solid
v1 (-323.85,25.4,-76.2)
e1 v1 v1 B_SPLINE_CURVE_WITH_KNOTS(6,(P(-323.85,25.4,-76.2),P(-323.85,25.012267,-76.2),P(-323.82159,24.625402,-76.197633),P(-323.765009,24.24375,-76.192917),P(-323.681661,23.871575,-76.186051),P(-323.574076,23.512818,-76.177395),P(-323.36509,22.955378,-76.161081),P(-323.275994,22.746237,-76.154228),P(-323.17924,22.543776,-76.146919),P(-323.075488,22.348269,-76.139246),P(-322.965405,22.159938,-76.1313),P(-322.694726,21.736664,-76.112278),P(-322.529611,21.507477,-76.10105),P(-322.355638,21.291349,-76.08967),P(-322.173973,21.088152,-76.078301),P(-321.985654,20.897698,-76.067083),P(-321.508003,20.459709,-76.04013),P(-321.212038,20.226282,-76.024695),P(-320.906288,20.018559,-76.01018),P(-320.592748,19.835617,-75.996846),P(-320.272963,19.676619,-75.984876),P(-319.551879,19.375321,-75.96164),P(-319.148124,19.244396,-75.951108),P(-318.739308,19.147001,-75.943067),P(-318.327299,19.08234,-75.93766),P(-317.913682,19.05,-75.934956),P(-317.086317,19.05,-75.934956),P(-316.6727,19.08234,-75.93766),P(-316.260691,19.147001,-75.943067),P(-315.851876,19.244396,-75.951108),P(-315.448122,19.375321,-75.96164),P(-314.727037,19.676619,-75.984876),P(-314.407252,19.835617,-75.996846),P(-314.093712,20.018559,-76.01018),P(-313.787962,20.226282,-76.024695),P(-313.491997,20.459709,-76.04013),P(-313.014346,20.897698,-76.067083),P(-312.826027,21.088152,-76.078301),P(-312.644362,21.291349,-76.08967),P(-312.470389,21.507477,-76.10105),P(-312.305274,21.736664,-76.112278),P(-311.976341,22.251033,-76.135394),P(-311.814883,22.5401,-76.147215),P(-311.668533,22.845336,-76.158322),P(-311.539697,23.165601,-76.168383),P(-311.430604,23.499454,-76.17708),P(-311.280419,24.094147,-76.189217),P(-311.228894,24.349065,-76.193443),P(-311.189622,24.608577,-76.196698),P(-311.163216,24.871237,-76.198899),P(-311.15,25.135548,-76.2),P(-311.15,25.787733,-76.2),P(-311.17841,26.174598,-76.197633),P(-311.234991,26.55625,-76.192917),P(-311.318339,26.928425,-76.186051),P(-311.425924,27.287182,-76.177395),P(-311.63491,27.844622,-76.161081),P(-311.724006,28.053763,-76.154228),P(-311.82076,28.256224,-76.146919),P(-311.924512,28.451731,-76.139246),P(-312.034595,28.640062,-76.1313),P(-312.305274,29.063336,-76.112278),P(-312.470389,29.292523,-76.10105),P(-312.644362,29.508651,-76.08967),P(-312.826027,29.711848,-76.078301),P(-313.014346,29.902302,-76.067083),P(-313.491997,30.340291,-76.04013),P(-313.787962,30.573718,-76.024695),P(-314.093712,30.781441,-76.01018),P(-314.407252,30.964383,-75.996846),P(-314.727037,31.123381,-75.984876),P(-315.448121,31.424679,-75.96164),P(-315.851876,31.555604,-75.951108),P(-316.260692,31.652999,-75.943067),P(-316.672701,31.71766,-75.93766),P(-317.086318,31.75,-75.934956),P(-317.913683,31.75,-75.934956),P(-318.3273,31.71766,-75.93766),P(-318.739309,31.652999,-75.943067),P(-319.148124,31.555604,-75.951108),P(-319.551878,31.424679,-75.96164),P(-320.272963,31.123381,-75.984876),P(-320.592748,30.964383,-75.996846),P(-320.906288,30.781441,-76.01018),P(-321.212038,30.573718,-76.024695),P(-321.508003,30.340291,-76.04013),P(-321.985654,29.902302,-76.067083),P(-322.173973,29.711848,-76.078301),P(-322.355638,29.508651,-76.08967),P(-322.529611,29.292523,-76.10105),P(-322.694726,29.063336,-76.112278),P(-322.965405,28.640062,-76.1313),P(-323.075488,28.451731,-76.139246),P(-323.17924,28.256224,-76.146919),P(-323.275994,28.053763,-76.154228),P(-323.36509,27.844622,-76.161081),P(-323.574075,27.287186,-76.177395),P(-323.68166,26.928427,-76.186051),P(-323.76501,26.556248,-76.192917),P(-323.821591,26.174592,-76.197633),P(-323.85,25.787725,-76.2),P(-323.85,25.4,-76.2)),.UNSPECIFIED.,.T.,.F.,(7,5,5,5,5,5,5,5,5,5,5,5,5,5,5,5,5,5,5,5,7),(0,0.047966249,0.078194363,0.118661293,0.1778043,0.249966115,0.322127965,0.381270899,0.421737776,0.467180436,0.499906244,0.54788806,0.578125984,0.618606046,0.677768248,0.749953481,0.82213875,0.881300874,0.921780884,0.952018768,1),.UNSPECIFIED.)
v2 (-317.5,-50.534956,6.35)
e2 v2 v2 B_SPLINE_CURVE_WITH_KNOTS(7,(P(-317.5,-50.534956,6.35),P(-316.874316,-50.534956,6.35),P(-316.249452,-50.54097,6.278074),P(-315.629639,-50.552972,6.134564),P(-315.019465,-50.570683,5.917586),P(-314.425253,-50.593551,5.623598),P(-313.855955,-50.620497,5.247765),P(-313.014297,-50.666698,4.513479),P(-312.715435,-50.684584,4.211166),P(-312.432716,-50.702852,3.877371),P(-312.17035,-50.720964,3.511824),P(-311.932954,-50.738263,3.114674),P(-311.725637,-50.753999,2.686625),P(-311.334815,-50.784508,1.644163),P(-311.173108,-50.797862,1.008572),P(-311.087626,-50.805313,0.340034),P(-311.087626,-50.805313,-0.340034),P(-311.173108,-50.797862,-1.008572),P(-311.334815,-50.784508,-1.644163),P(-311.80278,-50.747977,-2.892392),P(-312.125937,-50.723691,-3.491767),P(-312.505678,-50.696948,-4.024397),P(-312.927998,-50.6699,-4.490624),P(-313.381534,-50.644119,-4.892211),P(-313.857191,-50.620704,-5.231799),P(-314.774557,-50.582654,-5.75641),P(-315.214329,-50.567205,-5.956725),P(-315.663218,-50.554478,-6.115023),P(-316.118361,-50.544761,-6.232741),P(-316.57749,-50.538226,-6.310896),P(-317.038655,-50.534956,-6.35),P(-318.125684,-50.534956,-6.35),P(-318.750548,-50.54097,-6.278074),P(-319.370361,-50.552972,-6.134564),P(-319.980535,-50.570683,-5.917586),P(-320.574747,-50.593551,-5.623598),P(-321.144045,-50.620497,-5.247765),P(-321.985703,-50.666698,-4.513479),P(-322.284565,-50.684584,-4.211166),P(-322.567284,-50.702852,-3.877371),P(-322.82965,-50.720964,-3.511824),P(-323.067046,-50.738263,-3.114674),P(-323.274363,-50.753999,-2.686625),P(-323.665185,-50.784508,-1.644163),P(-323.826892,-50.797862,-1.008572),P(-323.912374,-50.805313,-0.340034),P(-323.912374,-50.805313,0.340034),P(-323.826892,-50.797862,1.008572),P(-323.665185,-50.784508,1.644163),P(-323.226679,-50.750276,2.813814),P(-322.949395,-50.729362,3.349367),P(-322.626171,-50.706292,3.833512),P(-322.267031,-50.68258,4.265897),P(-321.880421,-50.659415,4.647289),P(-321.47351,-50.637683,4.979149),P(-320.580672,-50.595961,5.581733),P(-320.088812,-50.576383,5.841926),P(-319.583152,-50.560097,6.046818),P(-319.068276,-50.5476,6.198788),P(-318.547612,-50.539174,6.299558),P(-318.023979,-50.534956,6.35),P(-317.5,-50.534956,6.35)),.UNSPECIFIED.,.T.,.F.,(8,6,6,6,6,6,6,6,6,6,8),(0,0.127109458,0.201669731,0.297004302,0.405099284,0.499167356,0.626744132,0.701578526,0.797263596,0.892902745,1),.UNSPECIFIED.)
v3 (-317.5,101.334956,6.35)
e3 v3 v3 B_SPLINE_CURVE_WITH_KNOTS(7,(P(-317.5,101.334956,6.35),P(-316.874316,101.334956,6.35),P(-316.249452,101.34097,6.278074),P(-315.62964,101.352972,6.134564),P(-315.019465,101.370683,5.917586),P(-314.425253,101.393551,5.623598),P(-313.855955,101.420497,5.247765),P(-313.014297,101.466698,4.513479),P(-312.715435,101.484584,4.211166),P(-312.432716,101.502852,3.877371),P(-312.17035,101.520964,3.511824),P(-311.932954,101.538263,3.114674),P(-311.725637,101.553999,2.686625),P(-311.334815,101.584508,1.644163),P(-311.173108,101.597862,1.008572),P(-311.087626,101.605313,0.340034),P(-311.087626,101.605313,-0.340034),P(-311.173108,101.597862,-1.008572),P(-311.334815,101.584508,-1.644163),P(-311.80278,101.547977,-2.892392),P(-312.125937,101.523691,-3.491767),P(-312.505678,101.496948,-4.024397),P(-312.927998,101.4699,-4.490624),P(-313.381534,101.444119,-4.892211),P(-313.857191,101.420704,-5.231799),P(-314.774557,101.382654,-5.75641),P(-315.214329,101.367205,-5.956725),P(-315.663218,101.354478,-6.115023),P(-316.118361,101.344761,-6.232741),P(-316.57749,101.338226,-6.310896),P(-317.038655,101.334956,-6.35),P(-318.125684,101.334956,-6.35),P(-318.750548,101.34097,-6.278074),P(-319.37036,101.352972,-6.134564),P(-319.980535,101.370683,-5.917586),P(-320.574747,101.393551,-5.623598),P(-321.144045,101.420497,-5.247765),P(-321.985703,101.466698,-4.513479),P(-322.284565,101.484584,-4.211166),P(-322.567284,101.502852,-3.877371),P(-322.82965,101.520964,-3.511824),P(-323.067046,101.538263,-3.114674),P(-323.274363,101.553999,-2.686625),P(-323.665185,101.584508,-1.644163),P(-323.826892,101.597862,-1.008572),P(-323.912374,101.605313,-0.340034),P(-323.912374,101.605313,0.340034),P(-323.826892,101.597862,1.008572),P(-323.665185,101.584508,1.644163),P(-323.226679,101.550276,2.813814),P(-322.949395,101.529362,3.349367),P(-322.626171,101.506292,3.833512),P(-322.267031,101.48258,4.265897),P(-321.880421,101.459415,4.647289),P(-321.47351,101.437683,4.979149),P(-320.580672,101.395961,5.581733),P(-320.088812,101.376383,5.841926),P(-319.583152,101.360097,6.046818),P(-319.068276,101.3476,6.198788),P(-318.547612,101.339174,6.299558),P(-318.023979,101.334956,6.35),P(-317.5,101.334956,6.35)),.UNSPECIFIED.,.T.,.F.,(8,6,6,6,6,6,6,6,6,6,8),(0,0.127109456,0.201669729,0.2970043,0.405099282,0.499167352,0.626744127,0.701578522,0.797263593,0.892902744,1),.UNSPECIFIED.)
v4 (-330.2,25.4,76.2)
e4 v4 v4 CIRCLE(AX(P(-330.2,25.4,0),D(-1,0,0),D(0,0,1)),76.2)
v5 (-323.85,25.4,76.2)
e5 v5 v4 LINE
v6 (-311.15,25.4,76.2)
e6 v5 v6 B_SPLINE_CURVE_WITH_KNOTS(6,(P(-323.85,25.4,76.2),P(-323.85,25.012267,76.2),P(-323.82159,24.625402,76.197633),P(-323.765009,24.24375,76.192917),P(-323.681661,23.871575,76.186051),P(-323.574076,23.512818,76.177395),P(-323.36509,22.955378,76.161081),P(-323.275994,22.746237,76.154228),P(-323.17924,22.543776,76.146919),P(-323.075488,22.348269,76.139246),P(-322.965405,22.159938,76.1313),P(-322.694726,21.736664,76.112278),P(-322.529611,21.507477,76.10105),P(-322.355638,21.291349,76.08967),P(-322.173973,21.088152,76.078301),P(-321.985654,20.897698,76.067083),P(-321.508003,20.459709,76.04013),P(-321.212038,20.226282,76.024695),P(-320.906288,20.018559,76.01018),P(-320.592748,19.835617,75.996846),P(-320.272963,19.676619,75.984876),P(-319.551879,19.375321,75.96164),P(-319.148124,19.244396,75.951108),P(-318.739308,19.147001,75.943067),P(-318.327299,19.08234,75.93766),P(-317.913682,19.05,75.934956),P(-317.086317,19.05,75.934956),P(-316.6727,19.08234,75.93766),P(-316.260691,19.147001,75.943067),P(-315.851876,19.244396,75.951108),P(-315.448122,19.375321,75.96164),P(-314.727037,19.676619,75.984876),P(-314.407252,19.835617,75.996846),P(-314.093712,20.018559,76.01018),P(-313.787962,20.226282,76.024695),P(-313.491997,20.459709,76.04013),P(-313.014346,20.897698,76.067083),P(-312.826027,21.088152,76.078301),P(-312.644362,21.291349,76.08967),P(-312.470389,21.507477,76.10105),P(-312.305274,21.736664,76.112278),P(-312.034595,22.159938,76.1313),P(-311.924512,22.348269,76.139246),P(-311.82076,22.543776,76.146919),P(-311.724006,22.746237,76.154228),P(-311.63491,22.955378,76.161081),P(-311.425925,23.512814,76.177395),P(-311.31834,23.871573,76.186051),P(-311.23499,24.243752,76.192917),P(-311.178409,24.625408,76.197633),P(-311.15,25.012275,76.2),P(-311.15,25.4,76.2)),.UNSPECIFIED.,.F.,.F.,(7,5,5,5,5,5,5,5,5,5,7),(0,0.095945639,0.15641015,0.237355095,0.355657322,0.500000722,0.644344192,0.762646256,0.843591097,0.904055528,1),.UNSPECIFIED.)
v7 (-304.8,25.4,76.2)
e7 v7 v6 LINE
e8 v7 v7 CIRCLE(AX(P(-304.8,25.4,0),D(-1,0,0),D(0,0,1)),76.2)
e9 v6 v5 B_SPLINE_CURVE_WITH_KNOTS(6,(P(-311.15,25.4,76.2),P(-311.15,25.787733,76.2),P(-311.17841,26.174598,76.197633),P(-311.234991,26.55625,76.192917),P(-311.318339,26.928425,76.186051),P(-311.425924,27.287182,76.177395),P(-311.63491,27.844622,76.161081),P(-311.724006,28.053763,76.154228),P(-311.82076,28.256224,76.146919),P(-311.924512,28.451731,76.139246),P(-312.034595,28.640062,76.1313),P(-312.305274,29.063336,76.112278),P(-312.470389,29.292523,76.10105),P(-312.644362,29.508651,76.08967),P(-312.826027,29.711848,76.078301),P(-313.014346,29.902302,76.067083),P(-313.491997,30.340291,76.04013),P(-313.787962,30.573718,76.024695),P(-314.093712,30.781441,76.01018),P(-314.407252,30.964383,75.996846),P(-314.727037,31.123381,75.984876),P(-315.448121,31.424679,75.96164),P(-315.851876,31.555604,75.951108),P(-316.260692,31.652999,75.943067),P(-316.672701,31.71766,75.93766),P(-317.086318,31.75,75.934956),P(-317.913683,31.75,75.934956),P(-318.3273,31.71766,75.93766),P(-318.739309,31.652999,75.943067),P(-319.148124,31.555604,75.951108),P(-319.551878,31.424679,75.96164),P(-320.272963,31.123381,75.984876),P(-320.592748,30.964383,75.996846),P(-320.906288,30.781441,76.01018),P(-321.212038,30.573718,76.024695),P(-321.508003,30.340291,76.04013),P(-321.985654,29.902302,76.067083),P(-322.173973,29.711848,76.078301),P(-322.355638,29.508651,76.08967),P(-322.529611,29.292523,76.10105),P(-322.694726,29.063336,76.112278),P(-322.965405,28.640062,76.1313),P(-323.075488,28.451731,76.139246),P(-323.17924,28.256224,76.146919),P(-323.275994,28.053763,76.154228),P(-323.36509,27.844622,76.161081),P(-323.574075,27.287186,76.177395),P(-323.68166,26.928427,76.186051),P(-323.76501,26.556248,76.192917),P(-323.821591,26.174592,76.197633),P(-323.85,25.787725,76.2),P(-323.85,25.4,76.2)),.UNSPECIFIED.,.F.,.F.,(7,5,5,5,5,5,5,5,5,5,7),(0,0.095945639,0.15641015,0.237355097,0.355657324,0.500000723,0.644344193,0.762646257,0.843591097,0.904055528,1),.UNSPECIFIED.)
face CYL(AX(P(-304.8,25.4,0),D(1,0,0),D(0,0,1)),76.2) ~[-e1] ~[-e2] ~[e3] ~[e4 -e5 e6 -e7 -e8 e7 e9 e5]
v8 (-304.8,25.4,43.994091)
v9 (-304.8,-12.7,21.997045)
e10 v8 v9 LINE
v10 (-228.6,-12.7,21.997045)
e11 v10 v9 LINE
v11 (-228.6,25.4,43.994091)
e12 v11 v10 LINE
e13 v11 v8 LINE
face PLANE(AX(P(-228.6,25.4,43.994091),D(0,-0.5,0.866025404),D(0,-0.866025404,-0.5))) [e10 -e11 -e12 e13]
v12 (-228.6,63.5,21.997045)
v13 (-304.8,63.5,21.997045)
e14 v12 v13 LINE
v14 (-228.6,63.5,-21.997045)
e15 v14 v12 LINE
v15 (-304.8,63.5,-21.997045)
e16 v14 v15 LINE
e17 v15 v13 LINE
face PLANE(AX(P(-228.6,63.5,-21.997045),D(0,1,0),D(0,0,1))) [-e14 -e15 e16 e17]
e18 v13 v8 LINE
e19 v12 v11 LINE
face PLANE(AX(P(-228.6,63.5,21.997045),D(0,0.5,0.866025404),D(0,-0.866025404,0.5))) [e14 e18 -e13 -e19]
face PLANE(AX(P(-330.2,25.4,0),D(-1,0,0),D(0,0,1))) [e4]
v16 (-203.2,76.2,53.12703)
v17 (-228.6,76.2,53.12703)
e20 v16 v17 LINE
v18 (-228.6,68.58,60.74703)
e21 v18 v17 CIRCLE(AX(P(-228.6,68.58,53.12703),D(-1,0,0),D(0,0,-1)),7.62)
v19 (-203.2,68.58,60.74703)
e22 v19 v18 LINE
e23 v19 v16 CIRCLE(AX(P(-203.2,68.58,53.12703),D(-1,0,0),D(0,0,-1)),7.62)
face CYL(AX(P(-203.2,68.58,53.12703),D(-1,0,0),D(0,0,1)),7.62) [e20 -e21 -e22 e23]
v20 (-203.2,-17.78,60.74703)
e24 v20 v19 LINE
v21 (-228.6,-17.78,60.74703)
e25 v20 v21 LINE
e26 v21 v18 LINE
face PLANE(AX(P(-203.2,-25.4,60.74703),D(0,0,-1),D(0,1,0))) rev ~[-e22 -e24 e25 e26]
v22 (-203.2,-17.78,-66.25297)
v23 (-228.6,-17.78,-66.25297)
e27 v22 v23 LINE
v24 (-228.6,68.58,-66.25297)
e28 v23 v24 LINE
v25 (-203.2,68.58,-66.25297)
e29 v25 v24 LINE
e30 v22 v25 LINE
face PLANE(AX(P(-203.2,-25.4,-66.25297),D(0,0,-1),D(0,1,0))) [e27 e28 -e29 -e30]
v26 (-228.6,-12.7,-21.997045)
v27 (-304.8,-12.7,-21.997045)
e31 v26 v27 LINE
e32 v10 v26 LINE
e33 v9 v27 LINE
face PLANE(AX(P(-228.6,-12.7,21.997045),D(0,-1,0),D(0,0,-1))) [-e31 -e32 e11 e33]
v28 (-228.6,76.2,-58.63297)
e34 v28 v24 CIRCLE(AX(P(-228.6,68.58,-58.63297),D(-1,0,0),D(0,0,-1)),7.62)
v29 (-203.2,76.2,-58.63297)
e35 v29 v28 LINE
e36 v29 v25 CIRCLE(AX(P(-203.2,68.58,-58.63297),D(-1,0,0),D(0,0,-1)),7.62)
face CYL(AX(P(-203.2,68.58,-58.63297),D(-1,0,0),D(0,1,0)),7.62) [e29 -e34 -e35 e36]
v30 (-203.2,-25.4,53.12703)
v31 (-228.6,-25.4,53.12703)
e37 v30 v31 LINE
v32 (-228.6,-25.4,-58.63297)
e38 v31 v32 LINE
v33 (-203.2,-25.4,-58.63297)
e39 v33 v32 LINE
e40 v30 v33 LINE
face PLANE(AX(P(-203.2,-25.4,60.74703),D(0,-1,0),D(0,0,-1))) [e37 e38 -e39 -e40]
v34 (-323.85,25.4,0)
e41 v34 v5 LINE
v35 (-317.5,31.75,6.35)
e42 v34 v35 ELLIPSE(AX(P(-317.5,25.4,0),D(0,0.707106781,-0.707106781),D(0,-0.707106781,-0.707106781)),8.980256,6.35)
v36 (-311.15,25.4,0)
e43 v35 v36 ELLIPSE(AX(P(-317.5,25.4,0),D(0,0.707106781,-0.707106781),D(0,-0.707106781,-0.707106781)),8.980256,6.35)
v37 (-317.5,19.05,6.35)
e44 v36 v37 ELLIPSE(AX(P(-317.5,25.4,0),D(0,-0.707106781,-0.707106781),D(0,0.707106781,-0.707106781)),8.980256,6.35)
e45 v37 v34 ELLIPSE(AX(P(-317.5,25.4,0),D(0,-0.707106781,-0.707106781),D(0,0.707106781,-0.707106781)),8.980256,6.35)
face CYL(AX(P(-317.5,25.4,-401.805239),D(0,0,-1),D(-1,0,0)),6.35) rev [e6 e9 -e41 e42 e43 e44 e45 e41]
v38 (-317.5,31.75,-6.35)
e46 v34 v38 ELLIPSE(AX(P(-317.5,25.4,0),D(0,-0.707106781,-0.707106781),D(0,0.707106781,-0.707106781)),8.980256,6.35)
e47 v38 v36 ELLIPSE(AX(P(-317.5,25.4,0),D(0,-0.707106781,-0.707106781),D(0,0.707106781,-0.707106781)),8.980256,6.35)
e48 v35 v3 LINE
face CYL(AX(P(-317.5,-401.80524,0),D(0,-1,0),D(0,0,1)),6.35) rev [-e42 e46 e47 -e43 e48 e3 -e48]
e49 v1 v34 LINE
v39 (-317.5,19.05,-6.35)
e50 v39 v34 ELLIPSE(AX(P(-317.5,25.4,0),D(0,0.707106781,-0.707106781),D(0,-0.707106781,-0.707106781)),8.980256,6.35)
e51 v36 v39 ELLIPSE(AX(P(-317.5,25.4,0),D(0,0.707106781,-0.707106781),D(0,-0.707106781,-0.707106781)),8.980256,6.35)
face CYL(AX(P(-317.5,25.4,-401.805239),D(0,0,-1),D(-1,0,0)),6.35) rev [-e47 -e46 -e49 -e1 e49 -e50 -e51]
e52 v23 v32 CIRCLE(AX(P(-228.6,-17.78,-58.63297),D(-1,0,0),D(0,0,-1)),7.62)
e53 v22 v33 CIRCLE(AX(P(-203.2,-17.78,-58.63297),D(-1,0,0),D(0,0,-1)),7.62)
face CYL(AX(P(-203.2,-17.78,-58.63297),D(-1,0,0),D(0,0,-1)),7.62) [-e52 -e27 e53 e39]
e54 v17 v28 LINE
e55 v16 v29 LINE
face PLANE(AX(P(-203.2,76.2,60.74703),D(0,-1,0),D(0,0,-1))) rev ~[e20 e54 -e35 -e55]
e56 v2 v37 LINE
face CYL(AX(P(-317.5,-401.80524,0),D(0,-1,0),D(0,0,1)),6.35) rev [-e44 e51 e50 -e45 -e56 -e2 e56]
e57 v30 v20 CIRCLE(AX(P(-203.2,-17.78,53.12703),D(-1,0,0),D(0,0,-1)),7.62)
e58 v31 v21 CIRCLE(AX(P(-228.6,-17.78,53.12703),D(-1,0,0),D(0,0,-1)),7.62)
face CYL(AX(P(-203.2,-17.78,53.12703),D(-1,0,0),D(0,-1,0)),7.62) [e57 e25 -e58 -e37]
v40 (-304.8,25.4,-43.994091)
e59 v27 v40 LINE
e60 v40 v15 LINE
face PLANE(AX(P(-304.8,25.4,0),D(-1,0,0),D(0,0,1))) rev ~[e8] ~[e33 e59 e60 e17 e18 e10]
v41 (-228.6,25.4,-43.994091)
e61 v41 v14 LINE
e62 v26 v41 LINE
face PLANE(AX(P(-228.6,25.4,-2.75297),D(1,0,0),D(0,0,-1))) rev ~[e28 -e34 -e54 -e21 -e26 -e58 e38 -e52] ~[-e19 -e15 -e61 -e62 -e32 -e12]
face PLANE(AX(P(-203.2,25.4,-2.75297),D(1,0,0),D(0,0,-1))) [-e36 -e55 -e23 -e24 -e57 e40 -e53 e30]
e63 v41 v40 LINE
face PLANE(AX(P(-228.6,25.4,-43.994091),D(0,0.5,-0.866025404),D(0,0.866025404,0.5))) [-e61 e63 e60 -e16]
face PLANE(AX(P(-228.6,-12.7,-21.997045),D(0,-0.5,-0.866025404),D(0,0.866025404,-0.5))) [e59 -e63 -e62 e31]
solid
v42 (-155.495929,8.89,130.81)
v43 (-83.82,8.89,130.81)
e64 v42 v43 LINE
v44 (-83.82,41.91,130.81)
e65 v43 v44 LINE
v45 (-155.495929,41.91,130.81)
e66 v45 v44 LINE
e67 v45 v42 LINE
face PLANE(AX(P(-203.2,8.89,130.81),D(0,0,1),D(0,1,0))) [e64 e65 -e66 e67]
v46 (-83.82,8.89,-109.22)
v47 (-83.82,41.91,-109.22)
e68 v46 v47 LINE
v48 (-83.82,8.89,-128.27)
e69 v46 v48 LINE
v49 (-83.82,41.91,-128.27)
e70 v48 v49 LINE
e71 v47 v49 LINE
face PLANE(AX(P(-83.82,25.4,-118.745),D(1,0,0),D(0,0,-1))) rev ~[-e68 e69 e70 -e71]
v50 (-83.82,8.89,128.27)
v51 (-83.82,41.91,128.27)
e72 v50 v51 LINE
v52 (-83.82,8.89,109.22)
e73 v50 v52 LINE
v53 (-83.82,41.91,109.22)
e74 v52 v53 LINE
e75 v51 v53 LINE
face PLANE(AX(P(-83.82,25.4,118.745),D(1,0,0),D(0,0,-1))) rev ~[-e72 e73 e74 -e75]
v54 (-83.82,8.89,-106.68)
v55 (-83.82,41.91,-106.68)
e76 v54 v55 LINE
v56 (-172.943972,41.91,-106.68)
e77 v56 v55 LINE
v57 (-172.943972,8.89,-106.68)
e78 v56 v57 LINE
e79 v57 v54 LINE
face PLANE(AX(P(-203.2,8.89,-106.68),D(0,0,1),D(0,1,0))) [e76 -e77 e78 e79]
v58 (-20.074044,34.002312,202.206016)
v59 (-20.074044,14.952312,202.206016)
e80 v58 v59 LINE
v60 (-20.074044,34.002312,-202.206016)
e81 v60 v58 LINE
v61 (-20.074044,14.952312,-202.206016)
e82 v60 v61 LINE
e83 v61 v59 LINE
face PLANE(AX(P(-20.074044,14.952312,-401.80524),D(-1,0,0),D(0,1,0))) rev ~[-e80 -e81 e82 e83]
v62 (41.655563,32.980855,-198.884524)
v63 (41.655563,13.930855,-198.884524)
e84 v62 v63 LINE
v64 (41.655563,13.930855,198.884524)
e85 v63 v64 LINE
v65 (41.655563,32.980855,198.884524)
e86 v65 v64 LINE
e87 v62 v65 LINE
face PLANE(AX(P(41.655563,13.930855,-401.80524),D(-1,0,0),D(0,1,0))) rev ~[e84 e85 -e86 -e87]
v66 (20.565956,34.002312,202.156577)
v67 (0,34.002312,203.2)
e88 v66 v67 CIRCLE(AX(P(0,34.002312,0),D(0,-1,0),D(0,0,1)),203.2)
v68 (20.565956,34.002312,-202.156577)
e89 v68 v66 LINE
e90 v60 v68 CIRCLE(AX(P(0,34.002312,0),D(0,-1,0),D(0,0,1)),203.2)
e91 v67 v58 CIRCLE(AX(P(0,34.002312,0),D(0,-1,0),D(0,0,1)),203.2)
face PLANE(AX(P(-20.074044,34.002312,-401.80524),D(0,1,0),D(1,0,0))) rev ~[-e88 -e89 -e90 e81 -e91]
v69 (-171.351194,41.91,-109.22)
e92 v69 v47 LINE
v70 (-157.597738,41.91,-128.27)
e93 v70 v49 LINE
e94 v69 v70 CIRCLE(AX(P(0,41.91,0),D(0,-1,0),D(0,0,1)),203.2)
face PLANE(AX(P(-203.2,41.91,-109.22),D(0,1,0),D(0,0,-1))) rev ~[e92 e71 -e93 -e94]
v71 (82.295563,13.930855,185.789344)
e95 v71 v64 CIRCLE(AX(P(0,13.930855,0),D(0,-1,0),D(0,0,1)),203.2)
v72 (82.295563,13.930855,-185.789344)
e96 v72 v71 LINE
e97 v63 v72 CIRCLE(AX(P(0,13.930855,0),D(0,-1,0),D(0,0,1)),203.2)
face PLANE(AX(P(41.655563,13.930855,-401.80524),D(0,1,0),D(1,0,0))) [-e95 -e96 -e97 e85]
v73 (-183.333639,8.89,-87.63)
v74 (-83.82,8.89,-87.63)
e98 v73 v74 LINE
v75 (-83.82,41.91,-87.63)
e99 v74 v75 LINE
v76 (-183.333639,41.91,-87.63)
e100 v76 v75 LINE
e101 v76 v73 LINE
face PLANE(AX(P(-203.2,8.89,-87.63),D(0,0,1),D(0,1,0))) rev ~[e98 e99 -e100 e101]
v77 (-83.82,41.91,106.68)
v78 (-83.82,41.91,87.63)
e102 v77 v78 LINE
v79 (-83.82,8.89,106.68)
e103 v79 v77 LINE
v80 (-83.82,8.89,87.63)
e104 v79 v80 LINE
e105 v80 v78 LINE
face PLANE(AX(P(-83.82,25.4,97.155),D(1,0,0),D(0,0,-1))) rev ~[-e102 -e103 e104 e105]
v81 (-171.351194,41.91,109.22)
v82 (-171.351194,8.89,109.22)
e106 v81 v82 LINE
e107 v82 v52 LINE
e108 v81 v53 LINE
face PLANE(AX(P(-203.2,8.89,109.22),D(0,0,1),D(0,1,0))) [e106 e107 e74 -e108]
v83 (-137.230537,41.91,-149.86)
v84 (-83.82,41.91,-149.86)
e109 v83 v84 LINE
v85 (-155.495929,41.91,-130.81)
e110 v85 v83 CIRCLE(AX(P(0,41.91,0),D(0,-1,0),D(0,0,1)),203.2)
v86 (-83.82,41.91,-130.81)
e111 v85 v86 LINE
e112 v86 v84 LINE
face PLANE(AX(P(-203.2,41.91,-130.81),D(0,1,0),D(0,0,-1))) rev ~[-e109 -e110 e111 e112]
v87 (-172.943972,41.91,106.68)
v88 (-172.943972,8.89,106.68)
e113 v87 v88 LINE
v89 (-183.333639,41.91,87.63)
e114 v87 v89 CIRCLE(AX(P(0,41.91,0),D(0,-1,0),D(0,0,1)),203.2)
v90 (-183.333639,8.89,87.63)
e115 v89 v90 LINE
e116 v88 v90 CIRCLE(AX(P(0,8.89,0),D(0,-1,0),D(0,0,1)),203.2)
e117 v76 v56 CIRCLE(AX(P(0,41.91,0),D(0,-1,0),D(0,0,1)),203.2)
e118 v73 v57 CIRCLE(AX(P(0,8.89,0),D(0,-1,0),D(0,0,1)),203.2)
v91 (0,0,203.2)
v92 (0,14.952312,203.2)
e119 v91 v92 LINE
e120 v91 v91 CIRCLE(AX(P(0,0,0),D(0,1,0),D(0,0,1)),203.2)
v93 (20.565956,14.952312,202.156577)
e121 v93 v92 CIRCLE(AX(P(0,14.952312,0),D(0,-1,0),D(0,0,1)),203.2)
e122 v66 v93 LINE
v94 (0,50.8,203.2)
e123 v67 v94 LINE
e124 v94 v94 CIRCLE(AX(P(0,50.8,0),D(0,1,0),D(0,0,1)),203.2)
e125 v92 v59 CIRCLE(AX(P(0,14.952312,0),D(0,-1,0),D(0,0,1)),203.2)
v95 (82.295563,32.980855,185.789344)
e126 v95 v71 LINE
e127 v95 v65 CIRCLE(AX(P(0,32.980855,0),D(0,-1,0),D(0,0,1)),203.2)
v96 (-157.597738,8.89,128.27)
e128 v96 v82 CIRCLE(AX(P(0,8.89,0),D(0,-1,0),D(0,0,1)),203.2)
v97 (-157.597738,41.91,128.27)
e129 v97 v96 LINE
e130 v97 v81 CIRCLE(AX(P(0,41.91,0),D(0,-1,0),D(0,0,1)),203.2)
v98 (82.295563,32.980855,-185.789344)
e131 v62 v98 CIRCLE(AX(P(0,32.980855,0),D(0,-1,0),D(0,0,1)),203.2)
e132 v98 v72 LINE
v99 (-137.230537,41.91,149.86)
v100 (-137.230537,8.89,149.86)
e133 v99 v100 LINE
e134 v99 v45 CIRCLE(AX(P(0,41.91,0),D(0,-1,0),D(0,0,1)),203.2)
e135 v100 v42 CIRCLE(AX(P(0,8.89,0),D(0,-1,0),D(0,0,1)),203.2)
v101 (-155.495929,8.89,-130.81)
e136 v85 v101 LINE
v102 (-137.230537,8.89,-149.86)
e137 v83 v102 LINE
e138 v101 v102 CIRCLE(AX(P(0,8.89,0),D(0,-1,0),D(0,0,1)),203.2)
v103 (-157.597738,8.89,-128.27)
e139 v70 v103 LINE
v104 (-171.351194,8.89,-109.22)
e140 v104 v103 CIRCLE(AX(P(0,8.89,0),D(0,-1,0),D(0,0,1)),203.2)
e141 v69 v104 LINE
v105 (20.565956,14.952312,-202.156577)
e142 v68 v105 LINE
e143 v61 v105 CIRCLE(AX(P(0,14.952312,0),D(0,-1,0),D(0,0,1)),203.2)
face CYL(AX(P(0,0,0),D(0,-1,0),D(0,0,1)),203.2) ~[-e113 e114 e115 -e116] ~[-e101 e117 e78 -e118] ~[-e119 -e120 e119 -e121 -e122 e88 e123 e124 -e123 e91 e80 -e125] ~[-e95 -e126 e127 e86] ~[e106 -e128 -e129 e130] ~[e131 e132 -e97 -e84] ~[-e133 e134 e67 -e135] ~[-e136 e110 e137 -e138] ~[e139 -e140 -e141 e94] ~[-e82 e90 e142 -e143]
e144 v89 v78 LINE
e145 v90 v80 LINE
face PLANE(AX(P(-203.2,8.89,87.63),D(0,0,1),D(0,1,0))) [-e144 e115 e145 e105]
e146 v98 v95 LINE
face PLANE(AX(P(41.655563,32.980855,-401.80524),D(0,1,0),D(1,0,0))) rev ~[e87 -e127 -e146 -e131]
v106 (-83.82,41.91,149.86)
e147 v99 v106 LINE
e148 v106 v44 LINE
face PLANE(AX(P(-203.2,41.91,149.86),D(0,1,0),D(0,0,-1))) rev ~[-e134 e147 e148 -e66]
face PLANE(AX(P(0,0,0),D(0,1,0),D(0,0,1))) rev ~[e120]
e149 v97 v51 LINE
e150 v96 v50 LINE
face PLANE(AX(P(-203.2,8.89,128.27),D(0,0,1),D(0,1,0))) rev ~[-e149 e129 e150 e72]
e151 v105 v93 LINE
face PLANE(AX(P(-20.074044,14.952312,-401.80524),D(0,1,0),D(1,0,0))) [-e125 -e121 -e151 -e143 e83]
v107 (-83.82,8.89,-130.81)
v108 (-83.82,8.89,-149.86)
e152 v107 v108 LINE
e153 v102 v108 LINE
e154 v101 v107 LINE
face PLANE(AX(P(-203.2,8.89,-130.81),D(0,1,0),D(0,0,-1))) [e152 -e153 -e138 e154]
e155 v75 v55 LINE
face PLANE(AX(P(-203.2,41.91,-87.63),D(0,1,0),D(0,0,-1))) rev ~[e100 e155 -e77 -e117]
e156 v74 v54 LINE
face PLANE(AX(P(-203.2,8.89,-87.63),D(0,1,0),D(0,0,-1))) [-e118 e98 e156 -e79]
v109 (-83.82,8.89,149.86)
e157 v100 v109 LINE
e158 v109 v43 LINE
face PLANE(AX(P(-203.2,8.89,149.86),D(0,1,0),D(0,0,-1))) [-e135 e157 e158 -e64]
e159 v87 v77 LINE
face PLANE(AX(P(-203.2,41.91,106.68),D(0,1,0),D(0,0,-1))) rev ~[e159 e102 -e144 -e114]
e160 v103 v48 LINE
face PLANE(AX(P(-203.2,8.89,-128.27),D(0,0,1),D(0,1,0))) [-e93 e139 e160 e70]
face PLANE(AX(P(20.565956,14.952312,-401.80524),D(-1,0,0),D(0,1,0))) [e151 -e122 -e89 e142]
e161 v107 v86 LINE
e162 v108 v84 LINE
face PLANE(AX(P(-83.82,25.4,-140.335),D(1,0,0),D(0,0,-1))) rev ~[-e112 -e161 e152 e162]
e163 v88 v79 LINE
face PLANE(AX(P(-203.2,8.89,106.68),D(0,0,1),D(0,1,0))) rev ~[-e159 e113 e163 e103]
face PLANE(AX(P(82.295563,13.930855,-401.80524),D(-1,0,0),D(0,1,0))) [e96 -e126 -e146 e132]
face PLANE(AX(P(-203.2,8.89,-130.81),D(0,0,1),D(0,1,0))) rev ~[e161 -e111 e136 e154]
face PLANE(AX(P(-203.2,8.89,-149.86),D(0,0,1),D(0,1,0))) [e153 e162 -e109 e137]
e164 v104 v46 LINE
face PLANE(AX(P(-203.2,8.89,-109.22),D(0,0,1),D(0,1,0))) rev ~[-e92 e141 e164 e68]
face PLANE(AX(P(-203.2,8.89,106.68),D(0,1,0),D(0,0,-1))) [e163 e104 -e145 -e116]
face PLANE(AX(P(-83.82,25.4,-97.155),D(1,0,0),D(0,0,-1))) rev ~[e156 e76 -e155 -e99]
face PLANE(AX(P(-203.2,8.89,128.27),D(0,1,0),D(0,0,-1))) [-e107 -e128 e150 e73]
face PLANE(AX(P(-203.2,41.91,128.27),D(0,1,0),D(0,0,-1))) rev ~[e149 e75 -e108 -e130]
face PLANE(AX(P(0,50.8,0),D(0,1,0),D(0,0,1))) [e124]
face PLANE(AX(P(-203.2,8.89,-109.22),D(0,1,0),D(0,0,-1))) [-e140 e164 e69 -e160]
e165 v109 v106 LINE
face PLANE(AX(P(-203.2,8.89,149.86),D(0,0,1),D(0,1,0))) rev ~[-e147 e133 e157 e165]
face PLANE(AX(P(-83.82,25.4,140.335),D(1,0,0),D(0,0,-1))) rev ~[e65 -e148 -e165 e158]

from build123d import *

# Parameters (mm, degrees)
SKETCH2_R               = 203.2
BOSS_EXTRUDE1_DEPTH     = 50.8
SKETCH6_W               = 127
SKETCH6_H               = 101.6
BOSS_EXTRUDE4_DEPTH     = 25.4
BOSS_EXTRUDE5_DEPTH     = 76.2
SKETCH8_R               = 76.2
BOSS_EXTRUDE6_DEPTH     = 25.4
CUT_EXTRUDE1_DEPTH      = 401.805239487
CUT_EXTRUDE1_DEPTH_BACK = 401.805239487
SKETCH9_R               = 6.35
CUT_EXTRUDE2_DEPTH      = 401.805239594
CUT_EXTRUDE2_DEPTH_BACK = 401.805239594
SKETCH10_R              = 6.35
FILLET1_R               = 7.62
FILLET2_R               = 7.62
FILLET3_R               = 7.62
FILLET4_R               = 7.62
SKETCH11_W              = 19.05
SKETCH11_H              = 33.02
CUT_EXTRUDE3_DEPTH      = 119.38
CUT_EXTRUDE4_DEPTH      = 401.805239594
CUT_EXTRUDE4_DEPTH_BACK = 401.805239594
SKETCH12_W              = 40.64
SKETCH12_H              = 19.05


with BuildPart() as part:
    # Sketch2 → Boss-Extrude1 (new body)
    with BuildSketch(Plane(origin=(0, 0, 0), x_dir=(1, 0, 0), z_dir=(0, 1, 0))):
        with Locations(Location((0, 0, 0), (0, 0, 270))):
            Circle(SKETCH2_R)
    extrude(amount=BOSS_EXTRUDE1_DEPTH)

    # Sketch11 → Cut-Extrude3 (cut)
    with BuildSketch(Plane(origin=(-203.2, 0, 0), x_dir=(0, 0, -1), z_dir=(1, 0, 0))):
        with Locations((140.335, 25.4)):
            Rectangle(SKETCH11_W, SKETCH11_H)
        with Locations((118.745, 25.4)):
            Rectangle(SKETCH11_W, SKETCH11_H)
        with Locations((97.155, 25.4)):
            Rectangle(SKETCH11_W, SKETCH11_H)
        with Locations((-118.745, 25.4)):
            Rectangle(SKETCH11_W, SKETCH11_H)
        with Locations((-97.155, 25.4)):
            Rectangle(SKETCH11_W, SKETCH11_H)
        with Locations((-140.335, 25.4)):
            Rectangle(SKETCH11_W, SKETCH11_H)
    extrude(amount=CUT_EXTRUDE3_DEPTH, mode=Mode.SUBTRACT)

    # Sketch12 → Cut-Extrude4 (cut, two sides: drawn at the far end of the back side and taken through both)
    with BuildSketch(Plane.XY.offset(-CUT_EXTRUDE4_DEPTH_BACK)):
        with Locations((0.245955967, 24.477312463)):
            Rectangle(SKETCH12_W, SKETCH12_H)
        with Locations((61.975563372, 23.455854612)):
            Rectangle(SKETCH12_W, SKETCH12_H)
    extrude(amount=CUT_EXTRUDE4_DEPTH + CUT_EXTRUDE4_DEPTH_BACK, mode=Mode.SUBTRACT)


with BuildPart() as body_2:
    # Sketch6 → Boss-Extrude4 (new body)
    with BuildSketch(Plane(origin=(-203.2, 0, 0), x_dir=(0, 0, -1), z_dir=(1, 0, 0))):
        with Locations((2.752969814, 25.4)):
            Rectangle(SKETCH6_W, SKETCH6_H)
    extrude(amount=-BOSS_EXTRUDE4_DEPTH)

    # Sketch7 → Boss-Extrude5 (add)
    with BuildSketch(Plane(origin=(-228.6, 0, 0), x_dir=(0, 0, -1), z_dir=(1, 0, 0))):
        Polygon((-43.994090512, 25.4), (-21.997045256, -12.7), (21.997045256, -12.7), (43.994090512, 25.4), (21.997045256, 63.5), (-21.997045256, 63.5), align=None)
    extrude(amount=-BOSS_EXTRUDE5_DEPTH)

    # Sketch8 → Boss-Extrude6 (add)
    with BuildSketch(Plane.ZY.offset(304.8)):
        with Locations((0, 25.4)):
            Circle(SKETCH8_R)
    extrude(amount=BOSS_EXTRUDE6_DEPTH)

    # Sketch9 → Cut-Extrude1 (cut, two sides: drawn at the far end of the back side and taken through both)
    with BuildSketch(Plane.XY.offset(-CUT_EXTRUDE1_DEPTH_BACK)):
        with Locations(Location((-317.5, 25.4, 0), (0, 0, 180))):
            Circle(SKETCH9_R)
    extrude(amount=CUT_EXTRUDE1_DEPTH + CUT_EXTRUDE1_DEPTH_BACK, mode=Mode.SUBTRACT)

    # Sketch10 → Cut-Extrude2 (cut, two sides: drawn at the far end of the back side and taken through both)
    with BuildSketch(Plane(origin=(0, 0, 0), x_dir=(1, 0, 0), z_dir=(0, 1, 0)).offset(-CUT_EXTRUDE2_DEPTH_BACK)):
        with Locations(Location((-317.5, 0, 0), (0, 0, 270))):
            Circle(SKETCH10_R)
    extrude(amount=CUT_EXTRUDE2_DEPTH + CUT_EXTRUDE2_DEPTH_BACK, mode=Mode.SUBTRACT)

    # Fillet1
    fillet1_edges = [body_2.edges().sort_by_distance(p)[0] for p in [
        (-215.9, 76.2, -66.252969814),
    ]]
    fillet(fillet1_edges, radius=FILLET1_R)

    # Fillet2
    fillet2_edges = [body_2.edges().sort_by_distance(p)[0] for p in [
        (-215.9, -25.4, -66.252969814),
    ]]
    fillet(fillet2_edges, radius=FILLET2_R)

    # Fillet3
    fillet3_edges = [body_2.edges().sort_by_distance(p)[0] for p in [
        (-215.9, -25.4, 60.747030186),
    ]]
    fillet(fillet3_edges, radius=FILLET3_R)

    # Fillet4
    fillet4_edges = [body_2.edges().sort_by_distance(p)[0] for p in [
        (-215.9, 76.2, 60.747030186),
    ]]
    fillet(fillet4_edges, radius=FILLET4_R)


solid = Compound([part.part, body_2.part])
